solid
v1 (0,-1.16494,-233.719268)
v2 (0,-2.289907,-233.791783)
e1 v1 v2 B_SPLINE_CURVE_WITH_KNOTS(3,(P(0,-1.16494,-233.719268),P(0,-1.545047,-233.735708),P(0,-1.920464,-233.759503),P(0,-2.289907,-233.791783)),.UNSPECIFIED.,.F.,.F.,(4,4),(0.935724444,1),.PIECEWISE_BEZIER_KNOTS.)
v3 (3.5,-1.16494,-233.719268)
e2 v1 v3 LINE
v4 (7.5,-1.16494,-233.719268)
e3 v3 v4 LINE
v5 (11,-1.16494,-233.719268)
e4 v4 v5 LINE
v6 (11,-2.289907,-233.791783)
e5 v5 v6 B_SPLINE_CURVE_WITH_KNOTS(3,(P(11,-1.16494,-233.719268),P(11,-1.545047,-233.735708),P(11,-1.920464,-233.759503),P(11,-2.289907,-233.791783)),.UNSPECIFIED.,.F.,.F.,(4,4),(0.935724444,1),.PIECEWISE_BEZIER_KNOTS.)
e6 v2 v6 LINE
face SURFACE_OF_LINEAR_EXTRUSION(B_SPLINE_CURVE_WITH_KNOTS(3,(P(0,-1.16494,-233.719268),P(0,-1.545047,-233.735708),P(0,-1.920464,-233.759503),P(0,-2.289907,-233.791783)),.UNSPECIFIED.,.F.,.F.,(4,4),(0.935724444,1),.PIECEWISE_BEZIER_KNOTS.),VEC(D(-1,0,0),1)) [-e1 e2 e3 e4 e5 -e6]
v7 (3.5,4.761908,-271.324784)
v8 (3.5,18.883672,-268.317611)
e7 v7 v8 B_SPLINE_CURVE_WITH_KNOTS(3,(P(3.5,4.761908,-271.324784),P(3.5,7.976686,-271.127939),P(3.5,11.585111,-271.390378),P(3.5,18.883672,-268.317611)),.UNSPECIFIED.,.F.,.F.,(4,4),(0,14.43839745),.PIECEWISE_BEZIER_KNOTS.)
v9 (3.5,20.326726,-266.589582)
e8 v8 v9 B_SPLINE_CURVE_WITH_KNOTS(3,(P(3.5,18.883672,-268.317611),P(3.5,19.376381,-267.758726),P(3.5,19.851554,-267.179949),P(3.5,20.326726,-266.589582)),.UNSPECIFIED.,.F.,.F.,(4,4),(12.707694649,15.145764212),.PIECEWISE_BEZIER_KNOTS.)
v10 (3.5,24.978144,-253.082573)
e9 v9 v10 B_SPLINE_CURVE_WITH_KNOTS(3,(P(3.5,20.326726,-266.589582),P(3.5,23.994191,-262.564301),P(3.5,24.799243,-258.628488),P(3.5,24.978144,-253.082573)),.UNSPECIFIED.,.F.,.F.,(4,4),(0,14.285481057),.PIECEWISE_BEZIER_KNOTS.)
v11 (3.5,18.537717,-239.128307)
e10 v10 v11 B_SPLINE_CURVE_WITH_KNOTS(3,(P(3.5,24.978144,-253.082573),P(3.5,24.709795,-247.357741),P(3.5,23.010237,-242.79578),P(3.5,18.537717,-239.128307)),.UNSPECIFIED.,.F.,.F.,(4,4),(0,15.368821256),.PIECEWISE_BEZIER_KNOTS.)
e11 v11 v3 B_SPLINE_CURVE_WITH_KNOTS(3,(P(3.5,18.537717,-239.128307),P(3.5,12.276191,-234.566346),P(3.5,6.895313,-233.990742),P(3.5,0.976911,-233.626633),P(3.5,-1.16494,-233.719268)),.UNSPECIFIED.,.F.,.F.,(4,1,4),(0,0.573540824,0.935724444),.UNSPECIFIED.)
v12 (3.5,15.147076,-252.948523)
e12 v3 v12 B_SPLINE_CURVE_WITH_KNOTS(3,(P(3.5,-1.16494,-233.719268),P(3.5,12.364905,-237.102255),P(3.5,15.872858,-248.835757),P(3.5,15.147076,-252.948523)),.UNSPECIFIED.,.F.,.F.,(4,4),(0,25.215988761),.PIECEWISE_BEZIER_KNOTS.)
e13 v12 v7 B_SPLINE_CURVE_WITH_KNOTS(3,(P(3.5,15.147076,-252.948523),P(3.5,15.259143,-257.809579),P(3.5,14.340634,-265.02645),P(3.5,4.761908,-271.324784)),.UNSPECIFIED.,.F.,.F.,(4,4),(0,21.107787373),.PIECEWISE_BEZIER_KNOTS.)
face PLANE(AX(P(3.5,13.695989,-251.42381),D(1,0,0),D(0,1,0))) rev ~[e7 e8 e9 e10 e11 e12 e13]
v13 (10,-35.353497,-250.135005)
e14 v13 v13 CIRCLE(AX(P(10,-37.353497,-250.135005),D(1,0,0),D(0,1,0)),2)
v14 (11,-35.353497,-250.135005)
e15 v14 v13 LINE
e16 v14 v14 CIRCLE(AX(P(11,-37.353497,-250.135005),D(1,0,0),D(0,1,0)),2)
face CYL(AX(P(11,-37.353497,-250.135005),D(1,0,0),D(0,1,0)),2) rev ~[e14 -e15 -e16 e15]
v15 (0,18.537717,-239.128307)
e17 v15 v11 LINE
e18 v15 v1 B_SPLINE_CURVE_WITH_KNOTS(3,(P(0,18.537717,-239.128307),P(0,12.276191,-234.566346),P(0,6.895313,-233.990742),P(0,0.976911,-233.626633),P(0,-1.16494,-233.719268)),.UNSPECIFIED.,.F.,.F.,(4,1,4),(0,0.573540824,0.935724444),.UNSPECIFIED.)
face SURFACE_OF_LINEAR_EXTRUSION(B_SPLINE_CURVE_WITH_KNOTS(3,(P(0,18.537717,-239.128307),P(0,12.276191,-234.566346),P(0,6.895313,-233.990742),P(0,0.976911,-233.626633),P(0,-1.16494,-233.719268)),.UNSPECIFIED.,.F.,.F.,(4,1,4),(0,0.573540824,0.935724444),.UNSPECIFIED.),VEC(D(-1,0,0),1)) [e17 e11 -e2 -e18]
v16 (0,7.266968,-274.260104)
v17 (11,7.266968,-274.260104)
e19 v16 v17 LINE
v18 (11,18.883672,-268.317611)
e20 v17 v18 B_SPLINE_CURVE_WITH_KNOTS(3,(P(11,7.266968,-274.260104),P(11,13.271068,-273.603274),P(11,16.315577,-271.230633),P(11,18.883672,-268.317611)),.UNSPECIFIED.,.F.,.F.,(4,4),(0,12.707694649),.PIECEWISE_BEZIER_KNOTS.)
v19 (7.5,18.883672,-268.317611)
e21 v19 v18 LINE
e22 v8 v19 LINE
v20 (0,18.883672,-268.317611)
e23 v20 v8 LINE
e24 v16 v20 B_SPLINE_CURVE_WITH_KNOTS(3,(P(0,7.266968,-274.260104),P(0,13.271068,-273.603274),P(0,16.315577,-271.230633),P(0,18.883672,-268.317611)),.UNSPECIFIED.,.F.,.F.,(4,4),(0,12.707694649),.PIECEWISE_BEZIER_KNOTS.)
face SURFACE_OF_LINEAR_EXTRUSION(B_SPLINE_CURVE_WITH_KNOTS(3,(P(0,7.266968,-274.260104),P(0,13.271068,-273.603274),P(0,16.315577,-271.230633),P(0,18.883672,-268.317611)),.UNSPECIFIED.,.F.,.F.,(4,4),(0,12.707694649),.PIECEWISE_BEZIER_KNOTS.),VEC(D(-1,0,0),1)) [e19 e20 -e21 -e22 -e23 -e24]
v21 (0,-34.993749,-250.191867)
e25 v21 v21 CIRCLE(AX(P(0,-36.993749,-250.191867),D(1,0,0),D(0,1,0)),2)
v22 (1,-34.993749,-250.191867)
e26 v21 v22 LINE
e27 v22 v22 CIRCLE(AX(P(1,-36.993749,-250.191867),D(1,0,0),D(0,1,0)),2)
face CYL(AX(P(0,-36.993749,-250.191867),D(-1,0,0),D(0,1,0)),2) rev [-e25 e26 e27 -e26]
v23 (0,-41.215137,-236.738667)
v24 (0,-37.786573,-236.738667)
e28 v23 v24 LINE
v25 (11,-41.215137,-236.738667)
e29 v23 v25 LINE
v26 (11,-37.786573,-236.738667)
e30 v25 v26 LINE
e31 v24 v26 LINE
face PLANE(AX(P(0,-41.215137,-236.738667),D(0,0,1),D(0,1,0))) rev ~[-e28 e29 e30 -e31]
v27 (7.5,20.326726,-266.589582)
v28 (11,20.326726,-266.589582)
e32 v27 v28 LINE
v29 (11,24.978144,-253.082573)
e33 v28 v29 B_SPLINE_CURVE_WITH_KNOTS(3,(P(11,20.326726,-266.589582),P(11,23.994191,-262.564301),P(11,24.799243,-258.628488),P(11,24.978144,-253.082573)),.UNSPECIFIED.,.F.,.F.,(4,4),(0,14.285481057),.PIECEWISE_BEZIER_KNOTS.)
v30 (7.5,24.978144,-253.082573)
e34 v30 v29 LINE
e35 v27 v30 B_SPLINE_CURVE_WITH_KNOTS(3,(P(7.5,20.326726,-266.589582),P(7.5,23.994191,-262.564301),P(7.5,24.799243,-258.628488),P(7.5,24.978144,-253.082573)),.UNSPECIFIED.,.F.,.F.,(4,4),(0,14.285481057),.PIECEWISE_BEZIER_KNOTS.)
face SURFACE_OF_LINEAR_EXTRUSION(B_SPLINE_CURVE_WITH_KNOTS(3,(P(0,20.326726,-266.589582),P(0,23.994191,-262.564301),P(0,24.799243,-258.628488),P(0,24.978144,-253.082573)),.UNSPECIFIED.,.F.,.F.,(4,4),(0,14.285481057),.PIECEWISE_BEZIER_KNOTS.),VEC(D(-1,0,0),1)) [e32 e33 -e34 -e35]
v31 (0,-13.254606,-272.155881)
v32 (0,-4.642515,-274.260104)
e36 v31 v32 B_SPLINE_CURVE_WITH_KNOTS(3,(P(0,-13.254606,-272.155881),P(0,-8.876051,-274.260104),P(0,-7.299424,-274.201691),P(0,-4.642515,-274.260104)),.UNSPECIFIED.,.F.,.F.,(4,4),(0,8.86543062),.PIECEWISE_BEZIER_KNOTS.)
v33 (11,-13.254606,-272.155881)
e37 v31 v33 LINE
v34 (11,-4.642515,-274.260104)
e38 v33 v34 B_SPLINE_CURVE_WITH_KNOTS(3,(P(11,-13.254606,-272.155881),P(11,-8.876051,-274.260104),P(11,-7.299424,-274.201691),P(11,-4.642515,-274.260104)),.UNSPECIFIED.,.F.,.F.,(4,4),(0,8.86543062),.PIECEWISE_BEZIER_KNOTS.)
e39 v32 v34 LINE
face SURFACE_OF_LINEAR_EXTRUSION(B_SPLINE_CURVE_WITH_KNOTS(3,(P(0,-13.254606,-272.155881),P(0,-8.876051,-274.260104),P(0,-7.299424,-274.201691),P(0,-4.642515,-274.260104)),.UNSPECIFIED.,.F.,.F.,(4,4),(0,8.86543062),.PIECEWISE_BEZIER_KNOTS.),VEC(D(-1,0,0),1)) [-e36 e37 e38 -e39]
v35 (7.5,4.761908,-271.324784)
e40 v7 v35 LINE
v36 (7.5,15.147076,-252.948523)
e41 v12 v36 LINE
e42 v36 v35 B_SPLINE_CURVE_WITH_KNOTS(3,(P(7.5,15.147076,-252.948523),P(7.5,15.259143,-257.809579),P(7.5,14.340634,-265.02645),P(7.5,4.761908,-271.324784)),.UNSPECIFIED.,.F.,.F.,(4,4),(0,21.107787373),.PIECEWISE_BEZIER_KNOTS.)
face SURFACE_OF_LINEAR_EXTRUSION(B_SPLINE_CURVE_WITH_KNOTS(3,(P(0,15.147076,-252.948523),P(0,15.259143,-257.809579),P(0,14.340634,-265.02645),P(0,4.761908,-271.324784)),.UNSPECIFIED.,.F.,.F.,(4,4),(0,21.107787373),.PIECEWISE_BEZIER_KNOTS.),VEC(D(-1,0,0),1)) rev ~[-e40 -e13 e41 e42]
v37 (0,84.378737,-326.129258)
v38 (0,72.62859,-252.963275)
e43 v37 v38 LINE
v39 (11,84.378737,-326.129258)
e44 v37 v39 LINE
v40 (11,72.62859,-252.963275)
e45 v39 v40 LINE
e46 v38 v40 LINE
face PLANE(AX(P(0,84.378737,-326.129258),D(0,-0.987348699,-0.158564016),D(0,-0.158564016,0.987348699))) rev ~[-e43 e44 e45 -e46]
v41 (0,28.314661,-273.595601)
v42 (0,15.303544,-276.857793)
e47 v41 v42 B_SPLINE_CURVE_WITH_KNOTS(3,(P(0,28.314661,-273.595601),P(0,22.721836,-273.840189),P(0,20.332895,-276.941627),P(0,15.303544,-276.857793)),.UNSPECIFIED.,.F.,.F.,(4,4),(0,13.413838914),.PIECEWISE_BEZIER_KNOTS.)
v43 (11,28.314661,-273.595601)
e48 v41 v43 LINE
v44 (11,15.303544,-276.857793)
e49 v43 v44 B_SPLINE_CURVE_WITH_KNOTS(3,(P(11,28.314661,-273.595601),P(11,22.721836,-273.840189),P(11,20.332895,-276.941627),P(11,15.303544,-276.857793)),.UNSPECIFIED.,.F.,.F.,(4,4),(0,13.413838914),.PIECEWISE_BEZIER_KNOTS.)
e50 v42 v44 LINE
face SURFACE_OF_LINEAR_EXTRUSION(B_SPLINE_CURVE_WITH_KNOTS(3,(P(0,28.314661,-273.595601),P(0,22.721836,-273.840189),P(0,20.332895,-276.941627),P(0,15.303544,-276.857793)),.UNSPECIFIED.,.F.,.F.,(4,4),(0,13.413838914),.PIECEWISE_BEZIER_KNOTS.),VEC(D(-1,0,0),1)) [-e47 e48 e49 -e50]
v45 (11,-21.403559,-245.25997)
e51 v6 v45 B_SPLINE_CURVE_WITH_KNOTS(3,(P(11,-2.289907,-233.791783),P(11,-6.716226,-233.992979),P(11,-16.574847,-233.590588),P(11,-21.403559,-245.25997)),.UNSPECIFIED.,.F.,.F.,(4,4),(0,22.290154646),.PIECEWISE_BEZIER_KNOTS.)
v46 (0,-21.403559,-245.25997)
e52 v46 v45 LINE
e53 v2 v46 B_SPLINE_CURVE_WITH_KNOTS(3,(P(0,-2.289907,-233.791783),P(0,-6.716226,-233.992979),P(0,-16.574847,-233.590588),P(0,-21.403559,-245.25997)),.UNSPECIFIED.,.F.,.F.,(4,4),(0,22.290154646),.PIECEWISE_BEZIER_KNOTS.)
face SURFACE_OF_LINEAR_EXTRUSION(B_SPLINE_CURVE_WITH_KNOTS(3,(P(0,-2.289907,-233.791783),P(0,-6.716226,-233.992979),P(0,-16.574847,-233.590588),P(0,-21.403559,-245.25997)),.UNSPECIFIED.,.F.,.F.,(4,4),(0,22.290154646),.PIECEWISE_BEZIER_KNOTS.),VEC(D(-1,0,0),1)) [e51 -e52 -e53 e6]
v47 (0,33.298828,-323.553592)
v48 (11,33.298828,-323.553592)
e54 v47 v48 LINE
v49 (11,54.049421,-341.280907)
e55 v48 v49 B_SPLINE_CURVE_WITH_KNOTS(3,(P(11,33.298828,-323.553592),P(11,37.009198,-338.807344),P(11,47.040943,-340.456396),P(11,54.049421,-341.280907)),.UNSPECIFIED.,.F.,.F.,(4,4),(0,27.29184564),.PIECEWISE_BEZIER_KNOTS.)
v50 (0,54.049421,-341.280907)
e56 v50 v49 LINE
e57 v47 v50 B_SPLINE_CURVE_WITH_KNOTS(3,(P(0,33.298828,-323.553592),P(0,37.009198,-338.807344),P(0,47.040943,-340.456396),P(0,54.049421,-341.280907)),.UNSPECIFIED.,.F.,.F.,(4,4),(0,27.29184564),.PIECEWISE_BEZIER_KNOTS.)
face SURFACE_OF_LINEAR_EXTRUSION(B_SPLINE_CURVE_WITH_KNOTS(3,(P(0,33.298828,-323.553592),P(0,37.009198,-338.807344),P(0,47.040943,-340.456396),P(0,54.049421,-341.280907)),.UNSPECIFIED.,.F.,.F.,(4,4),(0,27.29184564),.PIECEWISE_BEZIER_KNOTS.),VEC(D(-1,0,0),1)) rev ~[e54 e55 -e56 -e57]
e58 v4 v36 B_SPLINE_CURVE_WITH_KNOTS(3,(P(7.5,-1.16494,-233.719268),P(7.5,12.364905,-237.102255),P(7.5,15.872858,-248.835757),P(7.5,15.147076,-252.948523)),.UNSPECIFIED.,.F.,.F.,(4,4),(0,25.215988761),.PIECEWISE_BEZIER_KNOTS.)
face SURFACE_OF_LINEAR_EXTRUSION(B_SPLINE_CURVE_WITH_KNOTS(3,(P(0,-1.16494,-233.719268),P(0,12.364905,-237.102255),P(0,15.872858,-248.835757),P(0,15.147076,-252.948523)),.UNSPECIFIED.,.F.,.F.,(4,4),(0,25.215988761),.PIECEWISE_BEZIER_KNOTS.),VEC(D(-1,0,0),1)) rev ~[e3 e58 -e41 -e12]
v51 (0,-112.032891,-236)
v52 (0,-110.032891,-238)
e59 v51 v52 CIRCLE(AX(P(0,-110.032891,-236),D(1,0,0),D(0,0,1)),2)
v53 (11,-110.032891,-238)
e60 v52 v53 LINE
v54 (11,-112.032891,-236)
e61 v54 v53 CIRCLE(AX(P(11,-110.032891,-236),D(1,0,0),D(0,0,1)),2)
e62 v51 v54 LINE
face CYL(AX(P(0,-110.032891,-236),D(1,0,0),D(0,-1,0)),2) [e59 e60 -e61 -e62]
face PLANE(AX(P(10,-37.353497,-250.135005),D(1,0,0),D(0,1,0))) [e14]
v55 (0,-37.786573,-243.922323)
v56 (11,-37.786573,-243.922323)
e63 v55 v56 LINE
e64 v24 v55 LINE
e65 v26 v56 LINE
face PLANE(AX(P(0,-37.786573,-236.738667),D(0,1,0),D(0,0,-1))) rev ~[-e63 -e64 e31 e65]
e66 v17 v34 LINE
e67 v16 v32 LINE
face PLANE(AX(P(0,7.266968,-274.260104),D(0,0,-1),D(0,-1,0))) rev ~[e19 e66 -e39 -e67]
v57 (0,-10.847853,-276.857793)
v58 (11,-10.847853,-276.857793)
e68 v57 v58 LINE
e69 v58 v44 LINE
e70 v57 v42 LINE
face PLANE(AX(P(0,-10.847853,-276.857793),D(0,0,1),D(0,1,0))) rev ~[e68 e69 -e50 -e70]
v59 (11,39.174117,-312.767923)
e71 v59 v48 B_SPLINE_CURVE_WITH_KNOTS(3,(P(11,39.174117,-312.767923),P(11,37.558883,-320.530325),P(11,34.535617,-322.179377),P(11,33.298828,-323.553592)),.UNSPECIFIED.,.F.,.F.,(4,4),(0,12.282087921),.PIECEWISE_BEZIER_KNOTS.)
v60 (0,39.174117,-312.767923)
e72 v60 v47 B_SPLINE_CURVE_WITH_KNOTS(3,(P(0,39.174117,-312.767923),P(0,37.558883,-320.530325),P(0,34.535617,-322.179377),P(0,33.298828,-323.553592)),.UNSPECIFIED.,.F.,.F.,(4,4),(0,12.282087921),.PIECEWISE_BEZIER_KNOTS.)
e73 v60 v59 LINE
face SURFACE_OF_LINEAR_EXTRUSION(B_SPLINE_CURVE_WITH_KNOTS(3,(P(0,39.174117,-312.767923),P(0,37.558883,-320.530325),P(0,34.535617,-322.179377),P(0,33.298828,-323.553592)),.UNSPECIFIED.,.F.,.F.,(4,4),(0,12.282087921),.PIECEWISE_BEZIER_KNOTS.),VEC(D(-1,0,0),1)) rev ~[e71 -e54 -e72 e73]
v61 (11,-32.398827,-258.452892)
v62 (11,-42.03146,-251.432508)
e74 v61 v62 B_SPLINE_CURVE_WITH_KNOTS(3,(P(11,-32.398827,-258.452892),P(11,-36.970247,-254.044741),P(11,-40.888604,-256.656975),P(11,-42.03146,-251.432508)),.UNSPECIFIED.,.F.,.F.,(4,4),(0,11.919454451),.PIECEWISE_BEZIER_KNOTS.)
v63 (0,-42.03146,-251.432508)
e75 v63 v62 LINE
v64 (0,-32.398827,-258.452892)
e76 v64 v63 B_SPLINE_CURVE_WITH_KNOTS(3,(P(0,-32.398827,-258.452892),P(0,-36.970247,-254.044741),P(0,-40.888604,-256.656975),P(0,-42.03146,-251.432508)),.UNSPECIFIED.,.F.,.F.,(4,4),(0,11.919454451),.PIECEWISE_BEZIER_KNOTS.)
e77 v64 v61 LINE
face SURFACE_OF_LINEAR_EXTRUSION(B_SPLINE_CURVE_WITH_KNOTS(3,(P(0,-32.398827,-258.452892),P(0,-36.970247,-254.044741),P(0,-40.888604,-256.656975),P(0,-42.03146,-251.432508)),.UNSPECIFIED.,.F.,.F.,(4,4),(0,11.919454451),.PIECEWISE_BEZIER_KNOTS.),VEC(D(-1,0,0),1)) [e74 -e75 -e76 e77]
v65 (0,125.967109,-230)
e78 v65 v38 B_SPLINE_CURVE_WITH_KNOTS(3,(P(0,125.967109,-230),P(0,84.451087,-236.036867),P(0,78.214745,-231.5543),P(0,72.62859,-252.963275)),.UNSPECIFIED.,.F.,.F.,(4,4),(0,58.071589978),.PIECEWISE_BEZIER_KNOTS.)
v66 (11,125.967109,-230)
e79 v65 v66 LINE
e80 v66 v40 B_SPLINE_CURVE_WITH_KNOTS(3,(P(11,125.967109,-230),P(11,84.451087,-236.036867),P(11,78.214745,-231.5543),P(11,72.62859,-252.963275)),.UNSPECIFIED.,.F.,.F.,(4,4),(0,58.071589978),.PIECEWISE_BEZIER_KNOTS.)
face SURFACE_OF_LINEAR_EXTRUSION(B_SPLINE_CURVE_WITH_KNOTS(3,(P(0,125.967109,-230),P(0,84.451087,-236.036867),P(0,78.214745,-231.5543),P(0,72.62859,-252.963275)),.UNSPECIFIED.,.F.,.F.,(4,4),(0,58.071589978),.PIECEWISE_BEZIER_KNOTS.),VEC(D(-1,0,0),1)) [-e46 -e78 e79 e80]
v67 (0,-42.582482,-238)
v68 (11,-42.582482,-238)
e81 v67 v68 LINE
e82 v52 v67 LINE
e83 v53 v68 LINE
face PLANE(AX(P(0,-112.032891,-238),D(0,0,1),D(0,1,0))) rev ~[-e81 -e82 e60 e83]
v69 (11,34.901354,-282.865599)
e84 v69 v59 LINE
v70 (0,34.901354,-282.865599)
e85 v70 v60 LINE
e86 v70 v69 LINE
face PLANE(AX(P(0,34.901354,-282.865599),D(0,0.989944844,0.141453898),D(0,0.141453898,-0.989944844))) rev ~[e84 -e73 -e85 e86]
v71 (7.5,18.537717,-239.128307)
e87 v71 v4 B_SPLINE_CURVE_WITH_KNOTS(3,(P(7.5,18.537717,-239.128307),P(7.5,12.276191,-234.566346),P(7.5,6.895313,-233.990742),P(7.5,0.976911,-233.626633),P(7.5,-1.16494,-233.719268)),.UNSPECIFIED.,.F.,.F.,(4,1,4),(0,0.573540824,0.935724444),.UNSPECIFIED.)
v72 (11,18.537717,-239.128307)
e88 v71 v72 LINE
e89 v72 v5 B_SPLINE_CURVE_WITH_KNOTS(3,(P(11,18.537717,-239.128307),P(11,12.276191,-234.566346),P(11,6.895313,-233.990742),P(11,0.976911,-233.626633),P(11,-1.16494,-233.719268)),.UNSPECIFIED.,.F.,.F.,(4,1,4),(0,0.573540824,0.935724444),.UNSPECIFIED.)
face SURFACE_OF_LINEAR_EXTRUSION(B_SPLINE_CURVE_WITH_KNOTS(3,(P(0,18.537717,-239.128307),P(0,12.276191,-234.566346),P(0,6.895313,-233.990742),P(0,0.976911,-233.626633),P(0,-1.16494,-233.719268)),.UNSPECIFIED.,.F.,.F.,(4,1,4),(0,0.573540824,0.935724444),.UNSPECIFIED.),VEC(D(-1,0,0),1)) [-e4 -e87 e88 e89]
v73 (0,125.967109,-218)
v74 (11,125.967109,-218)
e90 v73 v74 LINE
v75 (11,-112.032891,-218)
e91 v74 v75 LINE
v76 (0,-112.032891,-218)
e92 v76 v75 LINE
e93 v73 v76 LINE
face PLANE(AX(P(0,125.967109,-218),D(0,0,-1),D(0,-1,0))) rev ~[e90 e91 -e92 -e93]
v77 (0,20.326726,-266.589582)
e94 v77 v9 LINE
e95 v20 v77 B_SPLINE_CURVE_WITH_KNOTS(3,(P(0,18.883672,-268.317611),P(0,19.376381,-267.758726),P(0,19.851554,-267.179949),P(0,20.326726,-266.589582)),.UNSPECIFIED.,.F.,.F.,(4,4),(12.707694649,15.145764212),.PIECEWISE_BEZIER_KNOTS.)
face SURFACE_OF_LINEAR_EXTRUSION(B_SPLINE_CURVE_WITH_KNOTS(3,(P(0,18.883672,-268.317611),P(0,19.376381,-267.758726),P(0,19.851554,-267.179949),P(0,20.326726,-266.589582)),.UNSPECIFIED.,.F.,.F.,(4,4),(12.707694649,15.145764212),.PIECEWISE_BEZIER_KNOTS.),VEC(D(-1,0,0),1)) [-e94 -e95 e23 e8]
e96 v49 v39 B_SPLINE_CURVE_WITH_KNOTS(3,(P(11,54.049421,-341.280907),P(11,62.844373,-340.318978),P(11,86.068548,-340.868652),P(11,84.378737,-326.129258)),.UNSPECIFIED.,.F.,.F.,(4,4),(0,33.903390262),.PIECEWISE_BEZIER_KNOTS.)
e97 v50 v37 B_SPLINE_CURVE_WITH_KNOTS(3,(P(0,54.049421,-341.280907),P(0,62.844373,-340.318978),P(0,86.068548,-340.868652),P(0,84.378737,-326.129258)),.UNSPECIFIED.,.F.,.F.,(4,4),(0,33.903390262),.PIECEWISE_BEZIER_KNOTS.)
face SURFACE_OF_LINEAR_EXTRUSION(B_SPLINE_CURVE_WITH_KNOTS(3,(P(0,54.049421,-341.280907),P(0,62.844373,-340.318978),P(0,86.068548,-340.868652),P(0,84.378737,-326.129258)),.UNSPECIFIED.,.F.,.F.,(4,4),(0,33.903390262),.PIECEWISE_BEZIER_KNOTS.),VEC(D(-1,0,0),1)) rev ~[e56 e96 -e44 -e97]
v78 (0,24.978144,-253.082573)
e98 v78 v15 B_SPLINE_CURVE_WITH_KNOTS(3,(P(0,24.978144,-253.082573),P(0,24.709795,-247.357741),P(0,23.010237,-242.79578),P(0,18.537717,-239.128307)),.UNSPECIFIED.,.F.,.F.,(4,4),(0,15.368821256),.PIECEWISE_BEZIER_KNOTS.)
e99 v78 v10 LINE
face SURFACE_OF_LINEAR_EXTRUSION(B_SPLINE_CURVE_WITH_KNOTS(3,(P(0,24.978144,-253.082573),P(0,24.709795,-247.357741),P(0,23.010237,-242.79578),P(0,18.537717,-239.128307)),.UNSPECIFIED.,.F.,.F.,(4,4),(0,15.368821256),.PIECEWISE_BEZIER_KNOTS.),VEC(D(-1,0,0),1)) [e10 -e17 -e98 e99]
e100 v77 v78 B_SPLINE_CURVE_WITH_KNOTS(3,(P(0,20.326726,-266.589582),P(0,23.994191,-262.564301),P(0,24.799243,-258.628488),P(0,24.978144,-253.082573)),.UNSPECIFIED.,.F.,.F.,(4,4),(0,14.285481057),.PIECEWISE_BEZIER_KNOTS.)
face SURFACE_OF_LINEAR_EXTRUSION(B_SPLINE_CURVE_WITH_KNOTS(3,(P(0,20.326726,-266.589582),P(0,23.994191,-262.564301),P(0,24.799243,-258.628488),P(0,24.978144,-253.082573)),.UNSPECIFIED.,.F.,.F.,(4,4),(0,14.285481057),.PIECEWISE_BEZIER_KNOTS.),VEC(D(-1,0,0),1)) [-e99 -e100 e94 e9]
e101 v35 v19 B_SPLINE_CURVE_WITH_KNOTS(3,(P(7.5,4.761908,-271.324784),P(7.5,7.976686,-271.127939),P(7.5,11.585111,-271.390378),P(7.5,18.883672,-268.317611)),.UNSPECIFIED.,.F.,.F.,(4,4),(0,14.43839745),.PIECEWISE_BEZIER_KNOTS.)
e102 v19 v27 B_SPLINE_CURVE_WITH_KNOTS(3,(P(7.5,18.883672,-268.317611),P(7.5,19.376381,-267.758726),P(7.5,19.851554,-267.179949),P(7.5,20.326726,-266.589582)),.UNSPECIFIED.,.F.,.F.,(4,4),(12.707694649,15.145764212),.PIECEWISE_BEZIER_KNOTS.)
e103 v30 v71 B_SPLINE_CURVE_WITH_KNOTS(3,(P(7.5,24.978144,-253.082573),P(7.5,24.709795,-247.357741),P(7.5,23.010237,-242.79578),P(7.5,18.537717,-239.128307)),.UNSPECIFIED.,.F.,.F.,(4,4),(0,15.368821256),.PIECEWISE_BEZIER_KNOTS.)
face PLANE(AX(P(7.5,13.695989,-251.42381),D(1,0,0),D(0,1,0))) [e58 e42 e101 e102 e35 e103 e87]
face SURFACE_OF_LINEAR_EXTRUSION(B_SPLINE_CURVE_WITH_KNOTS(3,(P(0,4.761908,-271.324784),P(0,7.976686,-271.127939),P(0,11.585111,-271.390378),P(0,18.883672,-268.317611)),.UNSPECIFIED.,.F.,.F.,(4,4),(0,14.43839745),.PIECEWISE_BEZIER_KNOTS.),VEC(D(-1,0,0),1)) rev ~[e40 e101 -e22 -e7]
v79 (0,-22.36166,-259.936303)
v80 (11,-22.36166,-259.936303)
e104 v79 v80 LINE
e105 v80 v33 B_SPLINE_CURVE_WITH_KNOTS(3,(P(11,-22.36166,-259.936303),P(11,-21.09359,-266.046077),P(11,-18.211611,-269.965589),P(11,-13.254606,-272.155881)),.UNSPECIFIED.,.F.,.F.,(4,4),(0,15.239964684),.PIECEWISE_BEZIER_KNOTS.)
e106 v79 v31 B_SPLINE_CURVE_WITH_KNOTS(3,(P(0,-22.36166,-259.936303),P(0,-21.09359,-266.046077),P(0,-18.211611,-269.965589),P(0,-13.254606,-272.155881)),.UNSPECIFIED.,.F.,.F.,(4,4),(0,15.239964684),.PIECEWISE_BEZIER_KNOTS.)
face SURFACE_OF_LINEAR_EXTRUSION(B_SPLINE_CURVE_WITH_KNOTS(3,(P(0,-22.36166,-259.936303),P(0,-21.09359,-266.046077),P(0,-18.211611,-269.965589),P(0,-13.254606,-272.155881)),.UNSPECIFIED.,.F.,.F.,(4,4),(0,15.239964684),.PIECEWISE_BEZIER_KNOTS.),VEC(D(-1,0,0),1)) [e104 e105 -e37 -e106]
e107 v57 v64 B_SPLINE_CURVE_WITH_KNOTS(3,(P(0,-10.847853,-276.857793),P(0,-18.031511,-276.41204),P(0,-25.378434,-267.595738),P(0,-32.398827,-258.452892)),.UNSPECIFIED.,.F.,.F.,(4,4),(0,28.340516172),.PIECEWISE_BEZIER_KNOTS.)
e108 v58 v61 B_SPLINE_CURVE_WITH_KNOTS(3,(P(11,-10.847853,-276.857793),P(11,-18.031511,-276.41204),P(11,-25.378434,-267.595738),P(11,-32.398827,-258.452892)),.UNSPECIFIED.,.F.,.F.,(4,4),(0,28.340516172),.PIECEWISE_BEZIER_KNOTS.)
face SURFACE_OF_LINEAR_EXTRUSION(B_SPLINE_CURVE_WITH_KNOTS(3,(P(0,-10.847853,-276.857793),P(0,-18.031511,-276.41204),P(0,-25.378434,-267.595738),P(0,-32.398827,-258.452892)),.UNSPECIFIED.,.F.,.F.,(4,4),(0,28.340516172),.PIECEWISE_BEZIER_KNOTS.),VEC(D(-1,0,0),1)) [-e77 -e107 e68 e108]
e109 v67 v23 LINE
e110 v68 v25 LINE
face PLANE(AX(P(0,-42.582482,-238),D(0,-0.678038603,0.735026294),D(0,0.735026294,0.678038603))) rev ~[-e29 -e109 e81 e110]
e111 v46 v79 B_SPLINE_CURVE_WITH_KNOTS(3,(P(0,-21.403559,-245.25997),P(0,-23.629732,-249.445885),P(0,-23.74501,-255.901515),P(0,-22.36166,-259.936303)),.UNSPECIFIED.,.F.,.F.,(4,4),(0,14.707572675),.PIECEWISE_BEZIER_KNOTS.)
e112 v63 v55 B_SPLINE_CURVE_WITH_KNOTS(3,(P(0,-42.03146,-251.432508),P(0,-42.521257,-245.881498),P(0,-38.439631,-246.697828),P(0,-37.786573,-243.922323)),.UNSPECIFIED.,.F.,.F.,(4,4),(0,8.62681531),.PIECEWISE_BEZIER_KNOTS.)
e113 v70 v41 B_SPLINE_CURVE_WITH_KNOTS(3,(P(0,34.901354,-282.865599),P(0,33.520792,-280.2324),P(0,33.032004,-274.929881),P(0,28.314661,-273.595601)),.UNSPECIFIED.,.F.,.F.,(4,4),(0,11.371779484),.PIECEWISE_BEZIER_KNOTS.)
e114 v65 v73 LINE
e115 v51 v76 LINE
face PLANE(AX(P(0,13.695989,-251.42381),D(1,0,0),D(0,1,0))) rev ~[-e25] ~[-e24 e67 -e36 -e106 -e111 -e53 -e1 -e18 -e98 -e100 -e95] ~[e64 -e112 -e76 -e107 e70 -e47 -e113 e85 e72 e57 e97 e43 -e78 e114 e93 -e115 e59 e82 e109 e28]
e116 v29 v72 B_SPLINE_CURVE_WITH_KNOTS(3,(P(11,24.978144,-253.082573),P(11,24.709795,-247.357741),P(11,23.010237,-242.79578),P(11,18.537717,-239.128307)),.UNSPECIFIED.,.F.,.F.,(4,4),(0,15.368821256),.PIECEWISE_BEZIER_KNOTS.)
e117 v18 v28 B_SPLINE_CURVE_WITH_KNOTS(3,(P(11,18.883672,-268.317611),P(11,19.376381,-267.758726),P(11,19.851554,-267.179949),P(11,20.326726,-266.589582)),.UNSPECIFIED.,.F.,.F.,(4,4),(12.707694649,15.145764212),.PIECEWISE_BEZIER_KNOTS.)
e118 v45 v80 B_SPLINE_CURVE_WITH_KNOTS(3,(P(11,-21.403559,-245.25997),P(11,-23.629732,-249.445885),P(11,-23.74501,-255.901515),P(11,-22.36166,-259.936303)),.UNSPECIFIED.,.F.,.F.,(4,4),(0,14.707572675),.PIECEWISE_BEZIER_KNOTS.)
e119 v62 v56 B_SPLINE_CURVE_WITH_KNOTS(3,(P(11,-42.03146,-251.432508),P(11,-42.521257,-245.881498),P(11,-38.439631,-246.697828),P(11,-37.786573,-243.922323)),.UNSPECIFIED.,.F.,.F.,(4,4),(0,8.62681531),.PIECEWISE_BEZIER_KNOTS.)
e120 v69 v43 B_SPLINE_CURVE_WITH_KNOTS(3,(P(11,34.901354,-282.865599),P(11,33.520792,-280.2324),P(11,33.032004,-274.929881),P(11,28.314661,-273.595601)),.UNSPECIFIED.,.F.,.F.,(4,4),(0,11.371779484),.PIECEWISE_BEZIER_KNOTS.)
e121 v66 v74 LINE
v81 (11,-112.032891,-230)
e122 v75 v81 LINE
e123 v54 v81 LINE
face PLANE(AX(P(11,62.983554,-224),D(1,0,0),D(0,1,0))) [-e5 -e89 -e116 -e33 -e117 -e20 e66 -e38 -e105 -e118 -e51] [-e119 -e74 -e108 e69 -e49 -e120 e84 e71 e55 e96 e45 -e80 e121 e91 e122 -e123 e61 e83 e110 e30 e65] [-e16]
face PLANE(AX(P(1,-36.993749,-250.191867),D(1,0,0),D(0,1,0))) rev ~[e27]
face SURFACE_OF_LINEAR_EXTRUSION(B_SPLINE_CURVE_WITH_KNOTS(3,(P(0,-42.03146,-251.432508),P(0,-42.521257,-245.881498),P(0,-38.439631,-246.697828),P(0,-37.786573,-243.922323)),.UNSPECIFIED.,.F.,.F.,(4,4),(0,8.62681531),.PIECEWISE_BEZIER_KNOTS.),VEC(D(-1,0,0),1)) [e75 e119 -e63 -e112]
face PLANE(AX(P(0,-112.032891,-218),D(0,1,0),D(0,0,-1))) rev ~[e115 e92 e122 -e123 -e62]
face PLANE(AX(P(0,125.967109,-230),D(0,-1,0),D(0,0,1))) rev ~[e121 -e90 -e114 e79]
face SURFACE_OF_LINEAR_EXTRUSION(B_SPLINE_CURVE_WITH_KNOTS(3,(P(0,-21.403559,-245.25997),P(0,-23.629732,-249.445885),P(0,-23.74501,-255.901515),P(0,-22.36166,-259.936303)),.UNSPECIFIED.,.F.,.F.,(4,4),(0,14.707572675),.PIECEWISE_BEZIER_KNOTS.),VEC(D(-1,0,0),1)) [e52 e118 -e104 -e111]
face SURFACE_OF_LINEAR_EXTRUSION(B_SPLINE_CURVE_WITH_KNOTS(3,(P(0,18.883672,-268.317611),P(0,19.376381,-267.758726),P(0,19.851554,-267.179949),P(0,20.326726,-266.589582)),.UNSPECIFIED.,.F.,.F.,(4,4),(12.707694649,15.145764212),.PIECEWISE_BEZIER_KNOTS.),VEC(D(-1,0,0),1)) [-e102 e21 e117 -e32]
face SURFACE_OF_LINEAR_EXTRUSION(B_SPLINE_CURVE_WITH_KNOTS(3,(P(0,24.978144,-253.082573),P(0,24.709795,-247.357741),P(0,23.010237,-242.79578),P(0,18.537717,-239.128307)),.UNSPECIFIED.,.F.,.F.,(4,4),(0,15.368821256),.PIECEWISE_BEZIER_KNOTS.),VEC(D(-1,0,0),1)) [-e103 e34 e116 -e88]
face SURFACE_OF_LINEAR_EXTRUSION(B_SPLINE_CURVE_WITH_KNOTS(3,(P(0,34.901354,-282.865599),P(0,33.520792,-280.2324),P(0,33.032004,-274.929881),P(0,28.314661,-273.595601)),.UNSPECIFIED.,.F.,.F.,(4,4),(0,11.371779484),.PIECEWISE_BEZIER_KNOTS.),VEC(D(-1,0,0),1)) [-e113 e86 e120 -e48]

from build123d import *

# Parameters (mm, degrees)
F0_W     = 69.4504092897
F0_H     = 8
F1_DEPTH = 11
F2_DEPTH = 7.5
F3_DEPTH = 3.5
F4_R     = 2
F5_DEPTH = 1
F6_R     = 2
F7_DEPTH = 1
F8_R     = 2


with BuildPart() as f1:
    # F0 (on Right) → F1 (new body)
    with BuildSketch(Plane.YZ):
        Polygon((125.9671086108, -218), (0, -218), (0, -230), (119.9886596101, -230), (125.9671086108, -230), align=None)
        Polygon((0, -230), (0, -218), (-112.0328913892, -218), (-112.0328913892, -230), (-42.5824820995, -230), align=None)
        with BuildLine():
            Line((119.9886596101, -230), (0, -230))
            Line((0, -230), (-42.5824820995, -230))
            Line((-42.5824820995, -230), (-42.5824820995, -238))
            Line((-42.5824820995, -238), (-41.2151366472, -236.7386668921))
            Line((-41.2151366472, -236.7386668921), (-37.7865731716, -236.7386668921))
            Line((-37.7865731716, -236.7386668921), (-37.7865731716, -243.9223229885))
            add(Edge.make_bspline(
                [(-42.0314595103, -251.4325082302), (-42.5212569535, -245.88149786), (-38.4396314621, -246.6978281736), (-37.7865731716, -243.9223229885)],
                knots=[0, 0, 0, 0, 8.62681531, 8.62681531, 8.62681531, 8.62681531], degree=3))
            add(Edge.make_bspline(
                [(-32.398827374, -258.4528923035), (-36.9702465832, -254.0447413921), (-40.8886037767, -256.6569745541), (-42.0314595103, -251.4325082302)],
                knots=[0, 0, 0, 0, 11.919454451, 11.919454451, 11.919454451, 11.919454451], degree=3))
            add(Edge.make_bspline(
                [(-10.8478534967, -276.8577933311), (-18.0315114558, -276.4120399952), (-25.3784339875, -267.5957381725), (-32.398827374, -258.4528923035)],
                knots=[0, 0, 0, 0, 28.3405161721, 28.3405161721, 28.3405161721, 28.3405161721], degree=3))
            Line((-10.8478534967, -276.8577933311), (15.3035437688, -276.8577933311))
            add(Edge.make_bspline(
                [(28.3146612346, -273.5956013203), (22.7218363434, -273.8401889801), (20.3328952193, -276.941627264), (15.3035437688, -276.8577933311)],
                knots=[0, 0, 0, 0, 13.4138389145, 13.4138389145, 13.4138389145, 13.4138389145], degree=3))
            add(Edge.make_bspline(
                [(34.9013535306, -282.8655987978), (33.5207916796, -280.2323997021), (33.0320037901, -274.9298810959), (28.3146612346, -273.5956013203)],
                knots=[0, 0, 0, 0, 11.3717794841, 11.3717794841, 11.3717794841, 11.3717794841], degree=3))
            Line((34.9013535306, -282.8655987978), (30.6285899132, -252.9632747173))
            Line((30.6285899132, -252.9632747173), (72.6285899132, -252.9632747173))
            add(Edge.make_bspline(
                [(125.9671086108, -230), (84.4510868192, -236.0368669033), (78.2147446722, -231.554299593), (72.6285899132, -252.9632747173)],
                knots=[0, 0, 0, 0, 58.0715899782, 58.0715899782, 58.0715899782, 58.0715899782], degree=3))
            Line((125.9671086108, -230), (119.9886596101, -230))
        make_face()
        with BuildLine():
            add(Edge.make_bspline(
                [(-2.2899068426, -233.791783452), (-6.7162262276, -233.9929789305), (-16.5748465806, -233.5905879736), (-21.4035585523, -245.2599704266)],
                knots=[0, 0, 0, 0, 22.2901546464, 22.2901546464, 22.2901546464, 22.2901546464], degree=3))
            add(Edge.make_bspline(
                [(-1.1649398204, -233.7192680463), (-1.5450471165, -233.73570765), (-1.920463643, -233.7595033317), (-2.2899068426, -233.791783452)],
                knots=[0.9357244438, 0.9357244438, 0.9357244438, 0.9357244438, 1, 1, 1, 1], degree=3))
            add(Edge.make_bspline(
                [(18.53771694, -239.1283065081), (12.2761912644, -234.5663458109), (6.8953128785, -233.9907415129), (0.97691075, -233.6266332169), (-1.1649398204, -233.7192680463)],
                knots=[0, 0, 0, 0, 0.5735408235, 0.9357244438, 0.9357244438, 0.9357244438, 0.9357244438], degree=3))
            add(Edge.make_bspline(
                [(24.9781440943, -253.0825734138), (24.7097946703, -247.3577409983), (23.0102371424, -242.7957803011), (18.53771694, -239.1283065081)],
                knots=[0, 0, 0, 0, 15.3688212563, 15.3688212563, 15.3688212563, 15.3688212563], degree=3))
            add(Edge.make_bspline(
                [(20.3267261386, -266.5895819664), (23.9941906184, -262.5643014908), (24.7992426157, -258.628487587), (24.9781440943, -253.0825734138)],
                knots=[0, 0, 0, 0, 14.2854810573, 14.2854810573, 14.2854810573, 14.2854810573], degree=3))
            add(Edge.make_bspline(
                [(18.8836723567, -268.3176113068), (19.3763812768, -267.758725569), (19.8515536715, -267.1799487583), (20.3267261386, -266.5895819664)],
                knots=[12.7076946491, 12.7076946491, 12.7076946491, 12.7076946491, 15.1457642124, 15.1457642124, 15.1457642124, 15.1457642124], degree=3))
            add(Edge.make_bspline(
                [(7.2669684887, -274.2601037025), (13.2710677225, -273.603274134), (16.3155772532, -271.2306329063), (18.8836723567, -268.3176113068)],
                knots=[0, 0, 0, 0, 12.7076946491, 12.7076946491, 12.7076946491, 12.7076946491], degree=3))
            Line((7.2669684887, -274.2601037025), (-4.6425154433, -274.2601037025))
            add(Edge.make_bspline(
                [(-13.254606165, -272.155880928), (-8.8760508224, -274.2601037025), (-7.2994241491, -274.2016911507), (-4.6425154433, -274.2601037025)],
                knots=[0, 0, 0, 0, 8.8654306203, 8.8654306203, 8.8654306203, 8.8654306203], degree=3))
            add(Edge.make_bspline(
                [(-22.3616603762, -259.9363029003), (-21.093590185, -266.046077013), (-18.2116106153, -269.9655890465), (-13.254606165, -272.155880928)],
                knots=[0, 0, 0, 0, 15.2399646844, 15.2399646844, 15.2399646844, 15.2399646844], degree=3))
            add(Edge.make_bspline(
                [(-21.4035585523, -245.2599704266), (-23.62973243, -249.4458854198), (-23.7450096756, -255.9015154839), (-22.3616603762, -259.9363029003)],
                knots=[0, 0, 0, 0, 14.7075726748, 14.7075726748, 14.7075726748, 14.7075726748], degree=3))
        make_face(mode=Mode.SUBTRACT)
        with Locations((-77.3076867444, -234)):
            Rectangle(F0_W, F0_H)
        with BuildLine():
            Line((84.3787366599, -326.129257679), (72.6285899132, -252.9632747173))
            Line((72.6285899132, -252.9632747173), (30.6285899132, -252.9632747173))
            Line((30.6285899132, -252.9632747173), (34.9013535306, -282.8655987978))
            Line((34.9013535306, -282.8655987978), (39.1741171479, -312.7679228783))
            add(Edge.make_bspline(
                [(39.1741171479, -312.7679228783), (37.5588834286, -320.5303251743), (34.5356166363, -322.179377079), (33.2988277078, -323.5535919666)],
                knots=[0, 0, 0, 0, 12.2820879206, 12.2820879206, 12.2820879206, 12.2820879206], degree=3))
            add(Edge.make_bspline(
                [(33.2988277078, -323.5535919666), (37.0091982186, -338.8073444366), (47.0409430563, -340.4563963413), (54.0494211018, -341.2809073925)],
                knots=[0, 0, 0, 0, 27.2918456396, 27.2918456396, 27.2918456396, 27.2918456396], degree=3))
            add(Edge.make_bspline(
                [(54.0494211018, -341.2809073925), (62.8443732858, -340.3189778328), (86.0685482621, -340.8686518669), (84.3787366599, -326.129257679)],
                knots=[0, 0, 0, 0, 33.9033902621, 33.9033902621, 33.9033902621, 33.9033902621], degree=3))
        make_face()
    extrude(amount=F1_DEPTH)

    # F0 (on Right) → F2 (join)
    with BuildSketch(Plane.YZ):
        with BuildLine():
            add(Edge.make_bspline(
                [(18.53771694, -239.1283065081), (12.2761912644, -234.5663458109), (6.8953128785, -233.9907415129), (0.97691075, -233.6266332169), (-1.1649398204, -233.7192680463)],
                knots=[0, 0, 0, 0, 0.5735408235, 0.9357244438, 0.9357244438, 0.9357244438, 0.9357244438], degree=3))
            add(Edge.make_bspline(
                [(-1.1649398204, -233.7192680463), (12.3649053276, -237.1022552252), (15.8728584647, -248.8357573748), (15.1470759884, -252.9485225677)],
                knots=[0, 0, 0, 0, 25.215988761, 25.215988761, 25.215988761, 25.215988761], degree=3))
            add(Edge.make_bspline(
                [(15.1470759884, -252.9485225677), (15.2591429651, -257.8095793724), (14.3406344578, -265.0264501572), (4.7619077377, -271.3247835636)],
                knots=[0, 0, 0, 0, 21.107787373, 21.107787373, 21.107787373, 21.107787373], degree=3))
            add(Edge.make_bspline(
                [(4.7619077377, -271.3247835636), (7.9766856506, -271.1279392242), (11.5851107985, -271.3903784752), (18.8836723567, -268.3176113068)],
                knots=[0, 0, 0, 0, 14.4383974504, 14.4383974504, 14.4383974504, 14.4383974504], degree=3))
            add(Edge.make_bspline(
                [(18.8836723567, -268.3176113068), (19.3763812768, -267.758725569), (19.8515536715, -267.1799487583), (20.3267261386, -266.5895819664)],
                knots=[12.7076946491, 12.7076946491, 12.7076946491, 12.7076946491, 15.1457642124, 15.1457642124, 15.1457642124, 15.1457642124], degree=3))
            add(Edge.make_bspline(
                [(20.3267261386, -266.5895819664), (23.9941906184, -262.5643014908), (24.7992426157, -258.628487587), (24.9781440943, -253.0825734138)],
                knots=[0, 0, 0, 0, 14.2854810573, 14.2854810573, 14.2854810573, 14.2854810573], degree=3))
            add(Edge.make_bspline(
                [(24.9781440943, -253.0825734138), (24.7097946703, -247.3577409983), (23.0102371424, -242.7957803011), (18.53771694, -239.1283065081)],
                knots=[0, 0, 0, 0, 15.3688212563, 15.3688212563, 15.3688212563, 15.3688212563], degree=3))
        make_face()
    extrude(amount=F2_DEPTH)

    # F0 (on Right) → F3 (cut)
    with BuildSketch(Plane.YZ):
        with BuildLine():
            add(Edge.make_bspline(
                [(18.53771694, -239.1283065081), (12.2761912644, -234.5663458109), (6.8953128785, -233.9907415129), (0.97691075, -233.6266332169), (-1.1649398204, -233.7192680463)],
                knots=[0, 0, 0, 0, 0.5735408235, 0.9357244438, 0.9357244438, 0.9357244438, 0.9357244438], degree=3))
            add(Edge.make_bspline(
                [(-1.1649398204, -233.7192680463), (12.3649053276, -237.1022552252), (15.8728584647, -248.8357573748), (15.1470759884, -252.9485225677)],
                knots=[0, 0, 0, 0, 25.215988761, 25.215988761, 25.215988761, 25.215988761], degree=3))
            add(Edge.make_bspline(
                [(15.1470759884, -252.9485225677), (15.2591429651, -257.8095793724), (14.3406344578, -265.0264501572), (4.7619077377, -271.3247835636)],
                knots=[0, 0, 0, 0, 21.107787373, 21.107787373, 21.107787373, 21.107787373], degree=3))
            add(Edge.make_bspline(
                [(4.7619077377, -271.3247835636), (7.9766856506, -271.1279392242), (11.5851107985, -271.3903784752), (18.8836723567, -268.3176113068)],
                knots=[0, 0, 0, 0, 14.4383974504, 14.4383974504, 14.4383974504, 14.4383974504], degree=3))
            add(Edge.make_bspline(
                [(18.8836723567, -268.3176113068), (19.3763812768, -267.758725569), (19.8515536715, -267.1799487583), (20.3267261386, -266.5895819664)],
                knots=[12.7076946491, 12.7076946491, 12.7076946491, 12.7076946491, 15.1457642124, 15.1457642124, 15.1457642124, 15.1457642124], degree=3))
            add(Edge.make_bspline(
                [(20.3267261386, -266.5895819664), (23.9941906184, -262.5643014908), (24.7992426157, -258.628487587), (24.9781440943, -253.0825734138)],
                knots=[0, 0, 0, 0, 14.2854810573, 14.2854810573, 14.2854810573, 14.2854810573], degree=3))
            add(Edge.make_bspline(
                [(24.9781440943, -253.0825734138), (24.7097946703, -247.3577409983), (23.0102371424, -242.7957803011), (18.53771694, -239.1283065081)],
                knots=[0, 0, 0, 0, 15.3688212563, 15.3688212563, 15.3688212563, 15.3688212563], degree=3))
        make_face()
    extrude(amount=F3_DEPTH, mode=Mode.SUBTRACT)

    # F4 (on face) → F5 (cut)
    with BuildSketch(Plane.YZ.offset(11)):
        with Locations((-37.3534969985, -250.1350045204)):
            Circle(F4_R)
    extrude(amount=-F5_DEPTH, mode=Mode.SUBTRACT)

    # F6 (on face) → F7 (cut)
    with BuildSketch(Plane.YZ):
        with Locations((-36.9937494397, -250.1918673515)):
            Circle(F6_R)
    extrude(amount=F7_DEPTH, mode=Mode.SUBTRACT)

    # F8
    f8_edges = [f1.edges().sort_by_distance(p)[0] for p in [
        (5.5, -112.032891, -238),
    ]]
    fillet(f8_edges, radius=F8_R)


solid = f1.part
